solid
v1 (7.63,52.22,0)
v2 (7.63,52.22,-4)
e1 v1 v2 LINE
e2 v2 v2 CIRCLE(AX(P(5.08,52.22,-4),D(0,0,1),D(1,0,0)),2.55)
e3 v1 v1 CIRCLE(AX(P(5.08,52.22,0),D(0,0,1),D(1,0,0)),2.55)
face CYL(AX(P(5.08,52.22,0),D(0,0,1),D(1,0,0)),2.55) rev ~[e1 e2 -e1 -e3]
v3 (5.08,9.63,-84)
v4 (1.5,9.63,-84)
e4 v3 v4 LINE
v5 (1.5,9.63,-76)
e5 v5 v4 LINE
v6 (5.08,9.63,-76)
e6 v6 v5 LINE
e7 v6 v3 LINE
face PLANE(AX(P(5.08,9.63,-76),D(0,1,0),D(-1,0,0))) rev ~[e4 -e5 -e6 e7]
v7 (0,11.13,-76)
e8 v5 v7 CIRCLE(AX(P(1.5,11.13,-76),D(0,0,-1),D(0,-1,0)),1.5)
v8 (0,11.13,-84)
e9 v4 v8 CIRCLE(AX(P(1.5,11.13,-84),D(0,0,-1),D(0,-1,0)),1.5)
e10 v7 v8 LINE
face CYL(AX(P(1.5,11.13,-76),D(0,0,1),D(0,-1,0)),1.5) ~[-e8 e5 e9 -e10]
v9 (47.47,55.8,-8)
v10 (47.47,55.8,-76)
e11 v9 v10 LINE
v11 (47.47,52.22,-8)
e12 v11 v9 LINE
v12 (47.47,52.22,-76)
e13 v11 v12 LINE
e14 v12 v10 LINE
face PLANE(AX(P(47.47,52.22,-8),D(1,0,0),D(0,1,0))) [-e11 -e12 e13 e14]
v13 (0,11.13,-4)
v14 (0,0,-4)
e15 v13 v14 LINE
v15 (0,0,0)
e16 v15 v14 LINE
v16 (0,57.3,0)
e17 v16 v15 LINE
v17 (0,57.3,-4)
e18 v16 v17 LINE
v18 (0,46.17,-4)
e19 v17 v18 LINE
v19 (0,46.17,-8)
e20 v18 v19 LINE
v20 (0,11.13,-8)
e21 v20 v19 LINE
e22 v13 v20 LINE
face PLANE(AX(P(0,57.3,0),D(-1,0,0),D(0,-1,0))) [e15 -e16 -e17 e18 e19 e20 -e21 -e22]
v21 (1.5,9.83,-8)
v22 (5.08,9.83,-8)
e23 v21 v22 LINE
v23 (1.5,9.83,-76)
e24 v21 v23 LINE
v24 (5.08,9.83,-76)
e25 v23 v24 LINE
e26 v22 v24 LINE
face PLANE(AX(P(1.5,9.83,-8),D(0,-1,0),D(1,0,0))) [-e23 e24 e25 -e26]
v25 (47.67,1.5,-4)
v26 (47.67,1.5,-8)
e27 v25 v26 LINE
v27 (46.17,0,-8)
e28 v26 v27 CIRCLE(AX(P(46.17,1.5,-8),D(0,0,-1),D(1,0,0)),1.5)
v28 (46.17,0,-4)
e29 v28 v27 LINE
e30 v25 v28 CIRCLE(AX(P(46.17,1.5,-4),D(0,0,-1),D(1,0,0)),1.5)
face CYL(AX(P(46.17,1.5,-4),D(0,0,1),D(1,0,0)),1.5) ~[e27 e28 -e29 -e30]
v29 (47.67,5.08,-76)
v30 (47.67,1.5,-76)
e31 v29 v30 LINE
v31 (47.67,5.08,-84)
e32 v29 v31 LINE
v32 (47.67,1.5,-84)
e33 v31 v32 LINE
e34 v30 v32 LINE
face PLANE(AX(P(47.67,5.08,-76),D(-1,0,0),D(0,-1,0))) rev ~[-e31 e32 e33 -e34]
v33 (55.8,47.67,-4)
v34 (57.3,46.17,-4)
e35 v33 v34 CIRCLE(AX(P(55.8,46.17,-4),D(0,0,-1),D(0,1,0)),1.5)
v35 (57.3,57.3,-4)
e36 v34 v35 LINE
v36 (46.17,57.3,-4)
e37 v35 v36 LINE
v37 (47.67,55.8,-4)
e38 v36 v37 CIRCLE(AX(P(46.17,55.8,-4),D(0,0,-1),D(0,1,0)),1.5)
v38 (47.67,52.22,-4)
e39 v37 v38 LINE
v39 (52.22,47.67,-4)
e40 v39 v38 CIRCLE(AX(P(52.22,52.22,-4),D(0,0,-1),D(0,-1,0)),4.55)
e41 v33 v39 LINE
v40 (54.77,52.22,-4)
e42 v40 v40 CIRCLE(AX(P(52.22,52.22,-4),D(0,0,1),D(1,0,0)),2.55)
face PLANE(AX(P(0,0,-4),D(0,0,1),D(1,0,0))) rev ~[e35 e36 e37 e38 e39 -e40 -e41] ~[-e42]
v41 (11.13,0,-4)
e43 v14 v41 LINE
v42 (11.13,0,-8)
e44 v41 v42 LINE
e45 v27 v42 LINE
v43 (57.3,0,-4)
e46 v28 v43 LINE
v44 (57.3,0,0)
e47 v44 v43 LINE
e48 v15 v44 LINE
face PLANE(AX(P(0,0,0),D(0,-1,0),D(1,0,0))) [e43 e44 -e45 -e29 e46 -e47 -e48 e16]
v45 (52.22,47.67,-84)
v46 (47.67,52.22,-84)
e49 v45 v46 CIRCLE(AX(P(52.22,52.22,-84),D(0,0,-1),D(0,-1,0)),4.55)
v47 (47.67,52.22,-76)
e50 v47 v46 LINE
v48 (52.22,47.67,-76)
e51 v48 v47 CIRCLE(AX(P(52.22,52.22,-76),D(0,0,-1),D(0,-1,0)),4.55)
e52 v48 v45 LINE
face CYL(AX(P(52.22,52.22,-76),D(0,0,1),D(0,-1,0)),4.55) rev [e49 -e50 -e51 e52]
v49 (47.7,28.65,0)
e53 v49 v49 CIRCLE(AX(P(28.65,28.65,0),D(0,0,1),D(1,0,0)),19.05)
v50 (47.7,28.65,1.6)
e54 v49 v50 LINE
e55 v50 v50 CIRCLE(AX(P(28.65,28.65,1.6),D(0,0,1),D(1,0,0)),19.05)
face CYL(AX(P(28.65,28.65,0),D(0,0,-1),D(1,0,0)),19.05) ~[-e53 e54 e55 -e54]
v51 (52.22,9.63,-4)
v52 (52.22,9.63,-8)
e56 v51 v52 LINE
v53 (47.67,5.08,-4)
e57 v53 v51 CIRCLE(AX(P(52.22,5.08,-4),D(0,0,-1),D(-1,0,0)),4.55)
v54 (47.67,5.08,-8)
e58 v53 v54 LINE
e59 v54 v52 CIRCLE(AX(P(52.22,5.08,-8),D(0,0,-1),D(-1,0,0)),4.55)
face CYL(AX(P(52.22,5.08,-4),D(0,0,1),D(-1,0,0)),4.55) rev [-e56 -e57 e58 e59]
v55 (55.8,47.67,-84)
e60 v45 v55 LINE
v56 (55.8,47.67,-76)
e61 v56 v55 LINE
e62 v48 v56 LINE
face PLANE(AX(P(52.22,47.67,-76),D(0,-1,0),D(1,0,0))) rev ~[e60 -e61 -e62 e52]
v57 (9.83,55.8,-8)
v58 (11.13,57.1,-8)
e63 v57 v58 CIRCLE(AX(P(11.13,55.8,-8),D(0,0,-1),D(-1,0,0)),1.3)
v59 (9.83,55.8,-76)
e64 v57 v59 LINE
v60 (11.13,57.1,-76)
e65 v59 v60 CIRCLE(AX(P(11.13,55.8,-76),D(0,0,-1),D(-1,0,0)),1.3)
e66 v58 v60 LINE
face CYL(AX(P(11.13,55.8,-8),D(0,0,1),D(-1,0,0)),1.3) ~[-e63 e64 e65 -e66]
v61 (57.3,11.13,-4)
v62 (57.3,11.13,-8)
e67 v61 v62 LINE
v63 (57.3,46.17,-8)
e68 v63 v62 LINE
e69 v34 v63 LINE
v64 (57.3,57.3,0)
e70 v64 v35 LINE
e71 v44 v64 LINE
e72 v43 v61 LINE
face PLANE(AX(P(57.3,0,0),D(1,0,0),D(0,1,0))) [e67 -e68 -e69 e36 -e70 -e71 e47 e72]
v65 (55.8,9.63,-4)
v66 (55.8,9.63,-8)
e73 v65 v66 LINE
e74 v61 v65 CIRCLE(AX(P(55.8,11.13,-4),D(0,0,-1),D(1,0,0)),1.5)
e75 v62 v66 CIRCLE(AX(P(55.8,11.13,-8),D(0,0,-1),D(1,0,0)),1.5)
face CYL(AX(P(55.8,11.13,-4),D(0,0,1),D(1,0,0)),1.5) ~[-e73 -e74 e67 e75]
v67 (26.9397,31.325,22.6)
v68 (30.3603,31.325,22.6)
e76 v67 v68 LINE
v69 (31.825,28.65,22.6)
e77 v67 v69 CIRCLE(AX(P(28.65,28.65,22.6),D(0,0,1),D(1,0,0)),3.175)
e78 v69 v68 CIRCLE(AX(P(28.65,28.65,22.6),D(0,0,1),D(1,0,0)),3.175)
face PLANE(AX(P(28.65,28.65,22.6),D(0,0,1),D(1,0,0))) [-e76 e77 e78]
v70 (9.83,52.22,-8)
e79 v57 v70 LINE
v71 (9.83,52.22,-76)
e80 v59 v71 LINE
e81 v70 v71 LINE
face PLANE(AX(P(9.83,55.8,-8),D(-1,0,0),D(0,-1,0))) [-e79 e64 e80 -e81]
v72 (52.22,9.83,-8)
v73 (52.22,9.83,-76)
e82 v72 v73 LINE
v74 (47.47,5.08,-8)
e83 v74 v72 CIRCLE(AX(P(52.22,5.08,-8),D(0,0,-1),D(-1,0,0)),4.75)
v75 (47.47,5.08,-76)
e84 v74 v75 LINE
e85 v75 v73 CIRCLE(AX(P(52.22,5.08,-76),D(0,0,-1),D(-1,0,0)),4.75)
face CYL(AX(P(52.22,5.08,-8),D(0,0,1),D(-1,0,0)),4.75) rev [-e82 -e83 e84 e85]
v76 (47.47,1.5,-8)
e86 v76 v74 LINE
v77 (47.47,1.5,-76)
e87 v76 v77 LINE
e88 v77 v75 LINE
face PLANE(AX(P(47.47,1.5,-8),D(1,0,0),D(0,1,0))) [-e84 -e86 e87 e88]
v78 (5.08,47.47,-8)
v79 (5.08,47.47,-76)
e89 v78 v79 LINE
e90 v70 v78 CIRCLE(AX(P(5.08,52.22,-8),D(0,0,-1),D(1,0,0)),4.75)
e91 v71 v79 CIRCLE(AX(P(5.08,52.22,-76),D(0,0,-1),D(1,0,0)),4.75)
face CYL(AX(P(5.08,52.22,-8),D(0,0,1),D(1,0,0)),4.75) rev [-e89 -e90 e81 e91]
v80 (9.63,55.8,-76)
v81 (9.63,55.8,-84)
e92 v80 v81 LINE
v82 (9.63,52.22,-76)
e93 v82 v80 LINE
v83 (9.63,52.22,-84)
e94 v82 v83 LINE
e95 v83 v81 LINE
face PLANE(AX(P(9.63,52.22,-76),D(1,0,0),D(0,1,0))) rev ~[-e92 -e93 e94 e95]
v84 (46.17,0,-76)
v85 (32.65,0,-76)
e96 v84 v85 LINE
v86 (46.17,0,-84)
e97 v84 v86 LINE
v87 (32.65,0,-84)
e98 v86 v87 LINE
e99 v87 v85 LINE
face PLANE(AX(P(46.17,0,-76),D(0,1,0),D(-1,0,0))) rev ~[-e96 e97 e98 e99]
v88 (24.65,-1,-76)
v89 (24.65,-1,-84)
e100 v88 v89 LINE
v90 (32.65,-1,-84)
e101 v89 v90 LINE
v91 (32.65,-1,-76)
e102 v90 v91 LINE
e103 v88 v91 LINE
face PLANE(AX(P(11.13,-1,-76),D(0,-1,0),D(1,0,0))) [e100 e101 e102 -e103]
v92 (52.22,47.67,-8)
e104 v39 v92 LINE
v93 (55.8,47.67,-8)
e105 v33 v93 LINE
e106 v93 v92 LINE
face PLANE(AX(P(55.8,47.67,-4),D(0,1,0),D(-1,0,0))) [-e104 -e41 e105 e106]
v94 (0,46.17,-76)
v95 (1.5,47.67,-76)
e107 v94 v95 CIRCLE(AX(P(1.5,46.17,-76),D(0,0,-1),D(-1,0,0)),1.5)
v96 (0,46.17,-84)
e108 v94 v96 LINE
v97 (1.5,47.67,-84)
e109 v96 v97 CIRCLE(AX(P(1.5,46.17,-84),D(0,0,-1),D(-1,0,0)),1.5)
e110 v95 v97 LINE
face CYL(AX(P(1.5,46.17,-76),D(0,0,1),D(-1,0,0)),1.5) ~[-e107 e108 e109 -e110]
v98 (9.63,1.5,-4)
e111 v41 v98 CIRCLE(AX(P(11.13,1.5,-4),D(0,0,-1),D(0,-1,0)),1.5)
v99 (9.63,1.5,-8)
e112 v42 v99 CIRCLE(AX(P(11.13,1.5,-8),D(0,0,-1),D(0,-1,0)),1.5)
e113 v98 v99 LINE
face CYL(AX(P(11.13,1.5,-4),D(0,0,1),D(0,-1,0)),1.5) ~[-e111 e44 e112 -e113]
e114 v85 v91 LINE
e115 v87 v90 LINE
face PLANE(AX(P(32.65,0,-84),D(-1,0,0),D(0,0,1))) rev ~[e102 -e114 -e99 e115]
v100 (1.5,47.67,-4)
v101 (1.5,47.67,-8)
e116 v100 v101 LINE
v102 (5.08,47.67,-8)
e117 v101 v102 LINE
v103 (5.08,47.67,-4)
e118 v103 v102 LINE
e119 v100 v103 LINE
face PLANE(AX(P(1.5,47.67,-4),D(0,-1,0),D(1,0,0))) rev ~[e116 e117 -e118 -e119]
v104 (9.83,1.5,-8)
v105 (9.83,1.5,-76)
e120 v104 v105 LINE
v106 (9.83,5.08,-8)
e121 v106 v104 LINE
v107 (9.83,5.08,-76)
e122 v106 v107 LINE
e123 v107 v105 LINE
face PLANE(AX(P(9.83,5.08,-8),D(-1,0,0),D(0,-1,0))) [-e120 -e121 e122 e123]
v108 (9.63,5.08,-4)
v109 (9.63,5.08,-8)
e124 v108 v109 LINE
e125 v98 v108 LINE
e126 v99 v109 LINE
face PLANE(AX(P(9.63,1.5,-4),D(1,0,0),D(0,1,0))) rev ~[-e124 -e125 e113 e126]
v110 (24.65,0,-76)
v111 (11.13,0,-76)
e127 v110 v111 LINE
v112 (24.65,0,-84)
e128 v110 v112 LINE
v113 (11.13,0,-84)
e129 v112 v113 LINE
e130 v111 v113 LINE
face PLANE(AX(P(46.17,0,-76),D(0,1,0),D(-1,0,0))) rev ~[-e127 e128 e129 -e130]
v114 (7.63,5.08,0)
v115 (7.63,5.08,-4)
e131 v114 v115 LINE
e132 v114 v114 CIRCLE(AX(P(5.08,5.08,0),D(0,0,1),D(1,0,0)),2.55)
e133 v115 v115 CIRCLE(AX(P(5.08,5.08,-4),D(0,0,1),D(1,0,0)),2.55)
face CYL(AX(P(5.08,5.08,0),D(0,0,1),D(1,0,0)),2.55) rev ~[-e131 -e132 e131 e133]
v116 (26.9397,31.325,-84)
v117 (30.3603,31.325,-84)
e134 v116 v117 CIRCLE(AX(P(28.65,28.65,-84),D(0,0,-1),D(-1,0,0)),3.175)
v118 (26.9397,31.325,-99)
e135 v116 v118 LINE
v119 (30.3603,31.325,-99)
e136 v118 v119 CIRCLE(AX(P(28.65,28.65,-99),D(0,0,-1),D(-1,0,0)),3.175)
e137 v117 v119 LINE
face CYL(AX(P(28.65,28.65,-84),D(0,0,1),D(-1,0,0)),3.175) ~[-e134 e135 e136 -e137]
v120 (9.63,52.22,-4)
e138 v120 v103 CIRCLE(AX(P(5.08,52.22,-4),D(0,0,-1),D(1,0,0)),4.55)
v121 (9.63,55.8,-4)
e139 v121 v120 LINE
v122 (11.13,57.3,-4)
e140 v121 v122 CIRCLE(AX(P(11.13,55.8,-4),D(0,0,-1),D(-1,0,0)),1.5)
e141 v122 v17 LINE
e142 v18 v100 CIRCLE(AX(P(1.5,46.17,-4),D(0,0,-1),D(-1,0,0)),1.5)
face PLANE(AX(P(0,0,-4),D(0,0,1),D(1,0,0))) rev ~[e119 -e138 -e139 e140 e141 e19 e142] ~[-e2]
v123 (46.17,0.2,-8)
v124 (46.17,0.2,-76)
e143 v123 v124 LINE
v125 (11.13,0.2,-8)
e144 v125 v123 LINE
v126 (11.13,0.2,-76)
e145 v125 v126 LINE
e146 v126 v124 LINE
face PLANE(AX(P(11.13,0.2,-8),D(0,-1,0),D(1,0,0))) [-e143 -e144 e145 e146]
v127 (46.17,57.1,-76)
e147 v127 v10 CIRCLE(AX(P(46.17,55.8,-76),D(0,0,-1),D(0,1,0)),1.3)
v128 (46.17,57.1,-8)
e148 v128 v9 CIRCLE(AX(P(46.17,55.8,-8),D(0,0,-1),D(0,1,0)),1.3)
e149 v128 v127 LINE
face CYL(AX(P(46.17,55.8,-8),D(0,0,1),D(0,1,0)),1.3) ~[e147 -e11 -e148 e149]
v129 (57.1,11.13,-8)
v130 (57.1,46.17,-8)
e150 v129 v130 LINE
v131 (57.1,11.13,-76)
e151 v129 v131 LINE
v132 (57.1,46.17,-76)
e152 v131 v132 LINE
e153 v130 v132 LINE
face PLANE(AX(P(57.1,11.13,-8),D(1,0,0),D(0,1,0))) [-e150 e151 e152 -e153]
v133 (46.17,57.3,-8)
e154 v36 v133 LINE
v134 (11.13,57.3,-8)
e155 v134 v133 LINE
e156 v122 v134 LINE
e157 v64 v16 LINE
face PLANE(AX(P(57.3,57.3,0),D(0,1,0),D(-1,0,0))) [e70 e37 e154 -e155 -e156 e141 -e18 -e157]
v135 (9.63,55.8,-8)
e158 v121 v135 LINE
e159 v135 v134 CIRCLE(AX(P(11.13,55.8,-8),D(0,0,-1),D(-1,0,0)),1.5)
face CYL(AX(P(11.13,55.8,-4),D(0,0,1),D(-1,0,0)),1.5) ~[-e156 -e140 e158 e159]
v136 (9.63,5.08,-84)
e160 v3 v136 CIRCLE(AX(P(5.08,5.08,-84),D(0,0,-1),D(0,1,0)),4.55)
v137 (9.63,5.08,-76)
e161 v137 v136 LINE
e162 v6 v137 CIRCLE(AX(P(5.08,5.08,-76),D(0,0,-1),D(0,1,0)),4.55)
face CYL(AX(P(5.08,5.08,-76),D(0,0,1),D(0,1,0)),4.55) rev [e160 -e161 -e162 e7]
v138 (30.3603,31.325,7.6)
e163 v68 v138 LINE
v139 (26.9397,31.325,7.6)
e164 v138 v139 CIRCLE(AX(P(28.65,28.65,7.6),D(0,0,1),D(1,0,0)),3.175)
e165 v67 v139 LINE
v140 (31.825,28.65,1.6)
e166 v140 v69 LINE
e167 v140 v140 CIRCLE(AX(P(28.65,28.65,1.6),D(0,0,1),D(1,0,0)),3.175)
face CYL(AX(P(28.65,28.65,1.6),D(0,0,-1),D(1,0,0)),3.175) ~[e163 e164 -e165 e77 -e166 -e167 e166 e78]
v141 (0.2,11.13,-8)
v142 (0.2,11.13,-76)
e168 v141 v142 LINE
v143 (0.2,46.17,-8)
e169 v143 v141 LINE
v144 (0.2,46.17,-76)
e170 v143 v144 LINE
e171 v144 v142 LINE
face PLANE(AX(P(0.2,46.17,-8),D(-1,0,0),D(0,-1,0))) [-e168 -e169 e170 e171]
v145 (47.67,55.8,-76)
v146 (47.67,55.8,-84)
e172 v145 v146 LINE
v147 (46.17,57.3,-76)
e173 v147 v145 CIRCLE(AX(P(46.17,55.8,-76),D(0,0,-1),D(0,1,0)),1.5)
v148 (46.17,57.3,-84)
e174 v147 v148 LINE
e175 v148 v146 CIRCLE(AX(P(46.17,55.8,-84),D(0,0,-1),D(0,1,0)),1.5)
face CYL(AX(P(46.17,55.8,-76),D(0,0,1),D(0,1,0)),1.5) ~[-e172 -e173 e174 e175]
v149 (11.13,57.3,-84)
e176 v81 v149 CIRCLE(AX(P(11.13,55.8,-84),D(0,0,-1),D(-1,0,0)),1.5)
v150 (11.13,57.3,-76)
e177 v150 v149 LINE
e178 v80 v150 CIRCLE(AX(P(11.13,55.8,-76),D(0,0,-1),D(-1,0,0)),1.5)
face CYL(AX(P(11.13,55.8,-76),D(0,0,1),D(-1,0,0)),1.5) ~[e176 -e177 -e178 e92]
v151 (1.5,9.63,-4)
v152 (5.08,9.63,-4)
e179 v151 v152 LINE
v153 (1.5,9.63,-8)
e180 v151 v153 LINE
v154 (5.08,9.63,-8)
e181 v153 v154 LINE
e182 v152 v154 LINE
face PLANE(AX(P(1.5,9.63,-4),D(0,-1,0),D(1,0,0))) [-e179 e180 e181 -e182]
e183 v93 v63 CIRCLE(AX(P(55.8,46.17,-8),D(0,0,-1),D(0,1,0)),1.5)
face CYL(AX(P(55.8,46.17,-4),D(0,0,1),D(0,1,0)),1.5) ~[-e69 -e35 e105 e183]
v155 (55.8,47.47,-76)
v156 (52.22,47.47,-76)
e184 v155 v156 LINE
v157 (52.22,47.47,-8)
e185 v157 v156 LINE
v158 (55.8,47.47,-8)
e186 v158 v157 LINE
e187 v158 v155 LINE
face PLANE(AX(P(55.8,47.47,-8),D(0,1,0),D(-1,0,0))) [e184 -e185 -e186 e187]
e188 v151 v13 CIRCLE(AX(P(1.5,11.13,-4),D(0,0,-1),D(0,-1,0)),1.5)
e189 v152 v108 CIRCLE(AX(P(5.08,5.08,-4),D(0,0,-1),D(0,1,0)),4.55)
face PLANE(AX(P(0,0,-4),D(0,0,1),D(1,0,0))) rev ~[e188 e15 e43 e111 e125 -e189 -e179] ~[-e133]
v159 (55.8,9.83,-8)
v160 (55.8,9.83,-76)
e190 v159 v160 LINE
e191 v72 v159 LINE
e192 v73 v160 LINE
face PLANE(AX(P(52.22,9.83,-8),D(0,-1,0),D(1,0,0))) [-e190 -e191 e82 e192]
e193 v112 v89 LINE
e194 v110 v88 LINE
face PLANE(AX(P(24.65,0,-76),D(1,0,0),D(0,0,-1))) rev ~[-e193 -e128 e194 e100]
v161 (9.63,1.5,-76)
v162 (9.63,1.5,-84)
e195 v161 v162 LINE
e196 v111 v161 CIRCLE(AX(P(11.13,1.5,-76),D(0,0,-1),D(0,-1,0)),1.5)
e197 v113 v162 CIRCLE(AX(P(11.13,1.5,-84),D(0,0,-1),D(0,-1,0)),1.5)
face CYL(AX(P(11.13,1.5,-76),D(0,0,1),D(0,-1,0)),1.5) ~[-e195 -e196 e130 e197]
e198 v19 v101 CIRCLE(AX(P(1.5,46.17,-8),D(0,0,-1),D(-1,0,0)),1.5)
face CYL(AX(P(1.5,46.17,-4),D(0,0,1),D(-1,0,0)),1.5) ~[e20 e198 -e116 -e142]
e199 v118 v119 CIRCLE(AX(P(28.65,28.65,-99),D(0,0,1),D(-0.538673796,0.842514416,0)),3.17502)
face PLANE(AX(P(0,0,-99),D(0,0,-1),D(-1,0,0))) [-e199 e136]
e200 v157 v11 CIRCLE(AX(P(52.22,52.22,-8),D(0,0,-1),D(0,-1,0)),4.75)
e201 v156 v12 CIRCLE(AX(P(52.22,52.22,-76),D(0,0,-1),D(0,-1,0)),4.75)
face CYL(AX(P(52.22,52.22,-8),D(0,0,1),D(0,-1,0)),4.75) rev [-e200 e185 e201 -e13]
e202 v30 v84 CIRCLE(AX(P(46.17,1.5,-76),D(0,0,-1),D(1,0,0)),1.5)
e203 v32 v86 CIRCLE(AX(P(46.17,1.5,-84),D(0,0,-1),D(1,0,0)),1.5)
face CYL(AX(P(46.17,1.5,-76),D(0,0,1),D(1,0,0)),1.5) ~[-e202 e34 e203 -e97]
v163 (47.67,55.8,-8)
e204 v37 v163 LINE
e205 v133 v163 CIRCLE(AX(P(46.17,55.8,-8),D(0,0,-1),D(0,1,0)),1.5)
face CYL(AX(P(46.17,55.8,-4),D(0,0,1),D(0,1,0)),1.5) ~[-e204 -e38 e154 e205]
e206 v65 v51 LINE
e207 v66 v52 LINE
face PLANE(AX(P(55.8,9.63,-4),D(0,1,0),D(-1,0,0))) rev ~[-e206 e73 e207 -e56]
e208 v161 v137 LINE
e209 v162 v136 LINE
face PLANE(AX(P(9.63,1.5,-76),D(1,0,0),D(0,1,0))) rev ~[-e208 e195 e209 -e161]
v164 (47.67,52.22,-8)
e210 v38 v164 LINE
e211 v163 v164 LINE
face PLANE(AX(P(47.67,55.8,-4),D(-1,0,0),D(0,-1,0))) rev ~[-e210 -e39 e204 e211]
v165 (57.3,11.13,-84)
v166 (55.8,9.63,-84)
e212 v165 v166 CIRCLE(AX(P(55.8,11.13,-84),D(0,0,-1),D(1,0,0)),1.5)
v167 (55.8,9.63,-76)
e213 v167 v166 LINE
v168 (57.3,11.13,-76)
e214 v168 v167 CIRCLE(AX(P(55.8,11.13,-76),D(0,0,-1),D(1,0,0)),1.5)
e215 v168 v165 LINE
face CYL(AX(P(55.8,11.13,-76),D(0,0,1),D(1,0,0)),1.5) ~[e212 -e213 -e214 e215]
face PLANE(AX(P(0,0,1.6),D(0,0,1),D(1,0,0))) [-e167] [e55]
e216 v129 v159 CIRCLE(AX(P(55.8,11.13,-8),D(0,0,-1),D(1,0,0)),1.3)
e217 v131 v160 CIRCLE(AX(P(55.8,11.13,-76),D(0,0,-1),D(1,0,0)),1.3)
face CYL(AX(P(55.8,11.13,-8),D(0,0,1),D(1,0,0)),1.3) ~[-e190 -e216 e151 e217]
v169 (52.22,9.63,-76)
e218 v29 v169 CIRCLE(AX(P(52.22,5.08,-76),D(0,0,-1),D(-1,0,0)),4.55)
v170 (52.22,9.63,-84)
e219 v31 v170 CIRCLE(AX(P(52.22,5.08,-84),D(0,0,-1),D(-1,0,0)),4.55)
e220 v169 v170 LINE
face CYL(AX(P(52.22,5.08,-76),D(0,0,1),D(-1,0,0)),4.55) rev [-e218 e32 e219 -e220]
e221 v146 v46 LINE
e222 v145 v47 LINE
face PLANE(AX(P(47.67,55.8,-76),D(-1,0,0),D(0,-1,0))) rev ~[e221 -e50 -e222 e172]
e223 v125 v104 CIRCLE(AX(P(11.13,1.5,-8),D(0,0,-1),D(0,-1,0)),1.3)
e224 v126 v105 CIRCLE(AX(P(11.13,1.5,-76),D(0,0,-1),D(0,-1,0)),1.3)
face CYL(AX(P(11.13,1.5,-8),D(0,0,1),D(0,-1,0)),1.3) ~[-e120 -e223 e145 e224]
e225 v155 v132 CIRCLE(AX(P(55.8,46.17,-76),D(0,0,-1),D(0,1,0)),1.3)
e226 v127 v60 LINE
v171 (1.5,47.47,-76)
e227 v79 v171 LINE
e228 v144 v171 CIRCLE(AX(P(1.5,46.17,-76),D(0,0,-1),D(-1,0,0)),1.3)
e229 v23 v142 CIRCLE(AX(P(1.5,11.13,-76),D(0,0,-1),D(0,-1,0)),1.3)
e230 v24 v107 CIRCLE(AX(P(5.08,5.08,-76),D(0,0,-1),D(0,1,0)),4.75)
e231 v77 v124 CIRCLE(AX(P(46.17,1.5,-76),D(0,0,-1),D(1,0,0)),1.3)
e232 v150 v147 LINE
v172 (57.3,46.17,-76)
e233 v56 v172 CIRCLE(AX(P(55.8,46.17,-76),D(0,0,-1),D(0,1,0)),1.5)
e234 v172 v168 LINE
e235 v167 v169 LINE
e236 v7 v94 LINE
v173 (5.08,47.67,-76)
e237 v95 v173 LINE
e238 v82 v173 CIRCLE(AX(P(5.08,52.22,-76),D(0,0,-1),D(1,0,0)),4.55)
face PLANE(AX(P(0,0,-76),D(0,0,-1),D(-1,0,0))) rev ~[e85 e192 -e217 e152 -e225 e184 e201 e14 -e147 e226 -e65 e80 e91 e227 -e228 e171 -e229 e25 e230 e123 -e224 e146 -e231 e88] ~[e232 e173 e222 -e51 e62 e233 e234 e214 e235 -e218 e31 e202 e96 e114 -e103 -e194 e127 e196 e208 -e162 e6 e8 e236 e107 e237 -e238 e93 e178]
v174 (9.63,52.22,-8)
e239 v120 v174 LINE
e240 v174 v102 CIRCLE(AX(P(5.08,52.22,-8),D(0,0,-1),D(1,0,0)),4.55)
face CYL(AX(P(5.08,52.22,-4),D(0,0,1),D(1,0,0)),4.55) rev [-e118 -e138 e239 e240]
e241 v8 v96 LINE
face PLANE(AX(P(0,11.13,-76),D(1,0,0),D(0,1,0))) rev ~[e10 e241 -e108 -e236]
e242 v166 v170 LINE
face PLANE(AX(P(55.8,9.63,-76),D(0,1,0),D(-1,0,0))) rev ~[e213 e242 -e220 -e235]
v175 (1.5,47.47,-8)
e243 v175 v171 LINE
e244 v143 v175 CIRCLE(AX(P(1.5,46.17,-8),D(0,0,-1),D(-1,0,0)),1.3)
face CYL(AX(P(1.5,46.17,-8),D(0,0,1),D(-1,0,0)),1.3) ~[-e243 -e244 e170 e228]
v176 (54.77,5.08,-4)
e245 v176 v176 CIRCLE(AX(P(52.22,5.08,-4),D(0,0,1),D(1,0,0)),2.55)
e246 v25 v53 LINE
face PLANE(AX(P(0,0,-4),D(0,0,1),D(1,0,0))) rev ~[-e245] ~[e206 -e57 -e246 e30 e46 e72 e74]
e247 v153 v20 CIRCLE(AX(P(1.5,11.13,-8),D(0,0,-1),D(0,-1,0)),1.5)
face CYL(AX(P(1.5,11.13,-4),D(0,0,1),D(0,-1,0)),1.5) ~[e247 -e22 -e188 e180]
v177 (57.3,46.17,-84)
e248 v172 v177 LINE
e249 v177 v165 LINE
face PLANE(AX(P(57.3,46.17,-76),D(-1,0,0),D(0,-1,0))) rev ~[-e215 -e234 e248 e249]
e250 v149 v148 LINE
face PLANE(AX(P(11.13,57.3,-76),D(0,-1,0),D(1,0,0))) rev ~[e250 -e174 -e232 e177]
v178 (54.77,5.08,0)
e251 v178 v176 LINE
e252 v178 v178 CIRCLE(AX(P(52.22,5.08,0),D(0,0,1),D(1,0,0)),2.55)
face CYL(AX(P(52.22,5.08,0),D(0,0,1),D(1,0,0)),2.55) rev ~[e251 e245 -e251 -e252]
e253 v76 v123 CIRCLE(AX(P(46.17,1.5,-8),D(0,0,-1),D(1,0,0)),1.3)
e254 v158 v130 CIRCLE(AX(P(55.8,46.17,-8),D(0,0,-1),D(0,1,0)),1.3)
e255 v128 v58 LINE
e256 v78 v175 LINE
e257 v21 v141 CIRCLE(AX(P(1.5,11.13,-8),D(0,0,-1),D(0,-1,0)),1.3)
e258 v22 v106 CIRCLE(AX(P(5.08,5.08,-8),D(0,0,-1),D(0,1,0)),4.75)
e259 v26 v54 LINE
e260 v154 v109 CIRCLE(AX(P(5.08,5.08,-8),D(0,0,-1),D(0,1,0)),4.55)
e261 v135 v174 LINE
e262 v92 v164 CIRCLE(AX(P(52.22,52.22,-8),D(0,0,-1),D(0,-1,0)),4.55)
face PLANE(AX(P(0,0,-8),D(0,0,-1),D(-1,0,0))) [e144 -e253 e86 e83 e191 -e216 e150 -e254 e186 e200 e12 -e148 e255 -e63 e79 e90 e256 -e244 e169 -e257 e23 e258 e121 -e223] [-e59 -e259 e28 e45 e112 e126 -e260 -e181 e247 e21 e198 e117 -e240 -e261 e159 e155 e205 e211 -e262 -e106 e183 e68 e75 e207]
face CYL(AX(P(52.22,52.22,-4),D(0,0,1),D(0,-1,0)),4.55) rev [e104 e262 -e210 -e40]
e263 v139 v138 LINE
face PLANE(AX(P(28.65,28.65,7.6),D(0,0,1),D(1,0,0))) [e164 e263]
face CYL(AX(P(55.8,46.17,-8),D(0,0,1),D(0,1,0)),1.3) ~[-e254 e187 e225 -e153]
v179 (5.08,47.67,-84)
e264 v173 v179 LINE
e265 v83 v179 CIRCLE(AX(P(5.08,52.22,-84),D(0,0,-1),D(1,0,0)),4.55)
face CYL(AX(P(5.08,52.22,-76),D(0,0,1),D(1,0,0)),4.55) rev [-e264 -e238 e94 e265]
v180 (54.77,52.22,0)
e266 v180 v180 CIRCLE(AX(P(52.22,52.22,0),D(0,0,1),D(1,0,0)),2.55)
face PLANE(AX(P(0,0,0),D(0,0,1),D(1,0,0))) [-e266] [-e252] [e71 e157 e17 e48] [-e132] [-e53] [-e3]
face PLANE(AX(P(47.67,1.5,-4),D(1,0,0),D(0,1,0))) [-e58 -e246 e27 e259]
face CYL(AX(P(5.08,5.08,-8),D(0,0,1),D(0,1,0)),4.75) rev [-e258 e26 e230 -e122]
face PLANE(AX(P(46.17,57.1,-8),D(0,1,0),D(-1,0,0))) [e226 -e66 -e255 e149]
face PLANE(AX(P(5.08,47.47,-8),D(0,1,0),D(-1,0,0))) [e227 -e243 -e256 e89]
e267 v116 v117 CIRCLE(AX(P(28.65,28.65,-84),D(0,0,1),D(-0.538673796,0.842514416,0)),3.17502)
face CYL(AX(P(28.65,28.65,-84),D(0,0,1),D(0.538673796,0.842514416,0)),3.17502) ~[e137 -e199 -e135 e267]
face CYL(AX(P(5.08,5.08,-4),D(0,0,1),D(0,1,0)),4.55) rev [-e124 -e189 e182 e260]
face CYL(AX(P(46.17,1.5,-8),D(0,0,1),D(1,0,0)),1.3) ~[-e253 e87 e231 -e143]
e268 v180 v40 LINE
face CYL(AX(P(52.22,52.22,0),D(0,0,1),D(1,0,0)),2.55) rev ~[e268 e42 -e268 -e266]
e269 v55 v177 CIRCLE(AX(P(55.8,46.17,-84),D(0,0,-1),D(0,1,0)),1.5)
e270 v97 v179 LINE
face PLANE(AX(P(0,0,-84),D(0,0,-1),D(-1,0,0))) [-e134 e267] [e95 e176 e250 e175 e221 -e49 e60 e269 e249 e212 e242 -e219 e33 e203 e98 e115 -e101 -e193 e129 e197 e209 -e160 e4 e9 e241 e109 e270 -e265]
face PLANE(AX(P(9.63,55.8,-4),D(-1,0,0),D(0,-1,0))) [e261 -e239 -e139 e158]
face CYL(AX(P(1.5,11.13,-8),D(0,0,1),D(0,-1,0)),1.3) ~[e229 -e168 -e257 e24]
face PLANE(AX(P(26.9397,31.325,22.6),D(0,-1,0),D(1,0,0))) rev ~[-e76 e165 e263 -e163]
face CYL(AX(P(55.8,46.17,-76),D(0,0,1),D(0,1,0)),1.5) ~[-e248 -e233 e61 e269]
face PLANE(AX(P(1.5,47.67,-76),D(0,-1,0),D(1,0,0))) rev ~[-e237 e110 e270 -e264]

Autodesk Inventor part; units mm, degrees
ref_plane "YZ Plane" through (0, 0, 0) normal (1, 0, 0) x (0, 1, 0)
ref_plane "XZ Plane" through (0, 0, 0) normal (0, 1, 0) x (-1, 0, 0)
ref_plane "XY Plane" through (0, 0, 0) normal (0, 0, 1) x (1, 0, 0)
sketch "Sketch1" plane through (0, 0, 0) normal (0, 0, 1) x (1, 0, 0)
  line L0 (0, 0) -> (57.3, 0)
  line L1 (57.3, 0) -> (57.3, 57.3)
  line L2 (57.3, 57.3) -> (0, 57.3)
  line L3 (0, 57.3) -> (0, 0)
  line L4 (5.08, 52.22) -> (52.22, 52.22) construction
  line L5 (52.22, 52.22) -> (52.22, 5.08) construction
  line L6 (52.22, 5.08) -> (5.08, 5.08) construction
  line L7 (5.08, 5.08) -> (5.08, 52.22) construction
  line L8 (5.08, 52.22) -> (5.08, 57.3) construction
  line L9 (5.08, 52.22) -> (0, 52.22) construction
  line L10 (52.22, 5.08) -> (52.22, 0) construction
  line L11 (52.22, 5.08) -> (57.3, 5.08) construction
  circle A0 centre (5.08, 52.22) radius 2.55
  circle A1 centre (52.22, 52.22) radius 2.55
  circle A2 centre (5.08, 5.08) radius 2.55
  circle A3 centre (52.22, 5.08) radius 2.55
  line L12 (28.65, 57.3) -> (28.65, 0) construction
  circle A4 centre (28.65, 28.65) radius 19.55
  dimension "d0" = 57.3
  dimension "d1" = 57.3
  dimension "d2" = 47.14
  dimension "d3" = 47.14
  dimension "d4" = 5.1
  dimension "d5" = 5.1
  dimension "d6" = 5.1
  dimension "d7" = 5.1
  dimension "d8" = 39.1
extrude "Extrusion1" add sketch "Sketch1" against normal blind 4 contours L3 L2 L1 L0 | A4
sketch "Sketch2" plane through (0, 0, 0) normal (0, 0, 1) x (1, 0, 0)
  line L0 (0, 57.3) -> (57.3, 57.3) construction
  line L1 (28.65, 57.3) -> (28.65, 0) construction
  line L2 (57.3, 0) -> (0, 0) construction
  circle A0 centre (28.65, 28.65) radius 19.05
  dimension "d11" = 38.1
extrude "Extrusion2" add sketch "Sketch2" along normal blind 1.6
sketch "Sketch3" plane through (28.65, 28.65, 1.6) normal (0, 0, 1) x (1, 0, 0)
  circle A0 centre (0, 0) radius 3.175
  point P0 (-28.65, -28.65)
  dimension "d14" = 6.35
extrude "Extrusion3" add sketch "Sketch3" along normal blind 21
sketch "Sketch4" plane through (28.65, 28.65, 22.6) normal (0, 0, 1) x (1, 0, 0)
  circle A0 centre (0, 0) radius 3.175 projected
  line L0 (-1.7103, 2.675) -> (1.7103, 2.675)
  point P0 (-28.65, -28.65)
  dimension "d17" = 2.675
extrude "Extrusion4" cut sketch "Sketch4" against normal blind 15 contours L0 A0 picked at (-0.3543, 2.7806)
sketch "Sketch5" plane through (0, 0, -4) normal (0, 0, -1) x (-1, 0, 0)
  line L0 (-57.3, 57.3) -> (-57.3, 0) projected
  line L1 (-57.3, 0) -> (0, 0) projected
  line L2 (0, 0) -> (0, 57.3) projected
  line L3 (0, 57.3) -> (-57.3, 57.3) projected
  circle A0 centre (-5.08, 52.22) radius 2.55 projected
  circle A1 centre (-52.22, 52.22) radius 2.55 projected
  circle A2 centre (-5.08, 5.08) radius 2.55 projected
  circle A3 centre (-52.22, 5.08) radius 2.55 projected
  arc A4 (-52.22, 47.67) -> (-47.67, 52.22) centre (-52.22, 52.22) ccw
  arc A5 (-9.63, 52.22) -> (-5.08, 47.67) centre (-5.08, 52.22) ccw
  arc A6 (-5.08, 9.63) -> (-9.63, 5.08) centre (-5.08, 5.08) ccw
  arc A7 (-47.67, 5.08) -> (-52.22, 9.63) centre (-52.22, 5.08) ccw
  line L4 (0, 57.3) -> (-57.3, 57.3) projected
  line L5 (-47.67, 55.8) -> (-47.67, 52.22)
  line L6 (-9.63, 55.8) -> (-9.63, 52.22)
  line L7 (-57.3, 0) -> (-57.3, 57.3) projected
  line L8 (-55.8, 47.67) -> (-52.22, 47.67)
  line L9 (-55.8, 9.63) -> (-52.22, 9.63)
  line L10 (0, 0) -> (-57.3, 0) projected
  line L11 (-47.67, 1.5) -> (-47.67, 5.08)
  line L12 (-9.63, 1.5) -> (-9.63, 5.08)
  line L13 (0, 57.3) -> (0, 0) projected
  line L14 (-1.5, 47.67) -> (-5.08, 47.67)
  line L15 (-1.5, 9.63) -> (-5.08, 9.63)
  line L16 (0, 0) -> (0, 57.3) projected
  line L17 (-57.3, 0) -> (0, 0) projected
  line L18 (-57.3, 57.3) -> (-57.3, 0) projected
  arc A8 (-55.8, 47.67) -> (-57.3, 46.17) centre (-55.8, 46.17) ccw
  arc A9 (-46.17, 57.3) -> (-47.67, 55.8) centre (-46.17, 55.8) ccw
  arc A10 (-9.63, 55.8) -> (-11.13, 57.3) centre (-11.13, 55.8) ccw
  arc A11 (0, 46.17) -> (-1.5, 47.67) centre (-1.5, 46.17) ccw
  arc A12 (-1.5, 9.63) -> (0, 11.13) centre (-1.5, 11.13) ccw
  arc A13 (-11.13, 0) -> (-9.63, 1.5) centre (-11.13, 1.5) ccw
  arc A14 (-47.67, 1.5) -> (-46.17, 0) centre (-46.17, 1.5) ccw
  arc A15 (-57.3, 11.13) -> (-55.8, 9.63) centre (-55.8, 11.13) ccw
  dimension "d20" = 2
  dimension "d21" = 2
  dimension "d22" = 2
  dimension "d23" = 2
  dimension "d24" = 3
  dimension "d25" = 3
  dimension "d26" = 3
  dimension "d27" = 3
  dimension "d28" = 3
  dimension "d29" = 3
  dimension "d30" = 3
  dimension "d31" = 3
extrude "Extrusion5" add sketch "Sketch5" along normal blind 4 contours A8 L8 A4 L5 A9 L3 A10 L6 A5 L14 A11 L2 A12 L15 A6 L12 A13 L1 A14 L11 A7 L9 A15 L0
sketch "Sketch6" plane through (0, 0, -8) normal (0, 0, -1) x (-1, 0, 0)
  arc A0 (-52.22, 47.67) -> (-47.67, 52.22) centre (-52.22, 52.22) ccw projected
  line L0 (-52.22, 47.67) -> (-55.8, 47.67) projected
  arc A1 (-55.8, 47.67) -> (-57.3, 46.17) centre (-55.8, 46.17) ccw projected
  line L1 (-57.3, 46.17) -> (-57.3, 11.13) projected
  arc A2 (-57.3, 11.13) -> (-55.8, 9.63) centre (-55.8, 11.13) ccw projected
  line L2 (-55.8, 9.63) -> (-52.22, 9.63) projected
  arc A3 (-47.67, 5.08) -> (-52.22, 9.63) centre (-52.22, 5.08) ccw projected
  line L3 (-47.67, 5.08) -> (-47.67, 1.5) projected
  arc A4 (-47.67, 1.5) -> (-46.17, 0) centre (-46.17, 1.5) ccw projected
  line L4 (-46.17, 0) -> (-11.13, 0) projected
  arc A5 (-11.13, 0) -> (-9.63, 1.5) centre (-11.13, 1.5) ccw projected
  line L5 (-9.63, 1.5) -> (-9.63, 5.08) projected
  arc A6 (-5.08, 9.63) -> (-9.63, 5.08) centre (-5.08, 5.08) ccw projected
  line L6 (-5.08, 9.63) -> (-1.5, 9.63) projected
  arc A7 (-1.5, 9.63) -> (0, 11.13) centre (-1.5, 11.13) ccw projected
  line L7 (0, 11.13) -> (0, 46.17) projected
  arc A8 (0, 46.17) -> (-1.5, 47.67) centre (-1.5, 46.17) ccw projected
  line L8 (-1.5, 47.67) -> (-5.08, 47.67) projected
  arc A9 (-9.63, 52.22) -> (-5.08, 47.67) centre (-5.08, 52.22) ccw projected
  line L9 (-9.63, 52.22) -> (-9.63, 55.8) projected
  arc A10 (-9.63, 55.8) -> (-11.13, 57.3) centre (-11.13, 55.8) ccw projected
  line L10 (-11.13, 57.3) -> (-46.17, 57.3) projected
  arc A11 (-46.17, 57.3) -> (-47.67, 55.8) centre (-46.17, 55.8) ccw projected
  line L11 (-47.67, 55.8) -> (-47.67, 52.22) projected
  line L12 (-55.8, 47.47) -> (-52.22, 47.47)
  arc A12 (-52.22, 47.47) -> (-47.47, 52.22) centre (-52.22, 52.22) ccw
  line L13 (-47.47, 52.22) -> (-47.47, 55.8)
  arc A13 (-46.17, 57.1) -> (-47.47, 55.8) centre (-46.17, 55.8) ccw
  line L14 (-46.17, 57.1) -> (-11.13, 57.1)
  arc A14 (-9.83, 55.8) -> (-11.13, 57.1) centre (-11.13, 55.8) ccw
  line L15 (-9.83, 55.8) -> (-9.83, 52.22)
  arc A15 (-9.83, 52.22) -> (-5.08, 47.47) centre (-5.08, 52.22) ccw
  line L16 (-5.08, 47.47) -> (-1.5, 47.47)
  arc A16 (-0.2, 46.17) -> (-1.5, 47.47) centre (-1.5, 46.17) ccw
  line L17 (-0.2, 46.17) -> (-0.2, 11.13)
  arc A17 (-1.5, 9.83) -> (-0.2, 11.13) centre (-1.5, 11.13) ccw
  line L18 (-1.5, 9.83) -> (-5.08, 9.83)
  arc A18 (-5.08, 9.83) -> (-9.83, 5.08) centre (-5.08, 5.08) ccw
  line L19 (-9.83, 5.08) -> (-9.83, 1.5)
  arc A19 (-11.13, 0.2) -> (-9.83, 1.5) centre (-11.13, 1.5) ccw
  line L20 (-11.13, 0.2) -> (-46.17, 0.2)
  arc A20 (-47.47, 1.5) -> (-46.17, 0.2) centre (-46.17, 1.5) ccw
  line L21 (-47.47, 1.5) -> (-47.47, 5.08)
  arc A21 (-47.47, 5.08) -> (-52.22, 9.83) centre (-52.22, 5.08) ccw
  line L22 (-52.22, 9.83) -> (-55.8, 9.83)
  arc A22 (-57.1, 11.13) -> (-55.8, 9.83) centre (-55.8, 11.13) ccw
  line L23 (-57.1, 11.13) -> (-57.1, 46.17)
  arc A23 (-55.8, 47.47) -> (-57.1, 46.17) centre (-55.8, 46.17) ccw
  point P0 (0, 0)
  dimension "d34" = 0.2
extrude "Extrusion6" add sketch "Sketch6" along normal blind 68 contours L12 A12 L13 A13 L14 A14 L15 A15 L16 A16 L17 A17 L18 A18 L19 A19 L20 A20 L21 A21 L22 A22 L23 A23
sketch "Sketch7" plane through (0, 0, -76) normal (0, 0, -1) x (-1, 0, 0)
  arc A0 (-57.1, 11.13) -> (-55.8, 9.83) centre (-55.8, 11.13) ccw projected
  line L0 (-57.1, 11.13) -> (-57.1, 46.17) projected
  arc A1 (-55.8, 47.47) -> (-57.1, 46.17) centre (-55.8, 46.17) ccw projected
  line L1 (-55.8, 47.47) -> (-52.22, 47.47) projected
  arc A2 (-52.22, 47.47) -> (-47.47, 52.22) centre (-52.22, 52.22) ccw projected
  line L2 (-47.47, 52.22) -> (-47.47, 55.8) projected
  arc A3 (-46.17, 57.1) -> (-47.47, 55.8) centre (-46.17, 55.8) ccw projected
  line L3 (-46.17, 57.1) -> (-11.13, 57.1) projected
  arc A4 (-9.83, 55.8) -> (-11.13, 57.1) centre (-11.13, 55.8) ccw projected
  line L4 (-9.83, 55.8) -> (-9.83, 52.22) projected
  arc A5 (-9.83, 52.22) -> (-5.08, 47.47) centre (-5.08, 52.22) ccw projected
  line L5 (-5.08, 47.47) -> (-1.5, 47.47) projected
  arc A6 (-0.2, 46.17) -> (-1.5, 47.47) centre (-1.5, 46.17) ccw projected
  line L6 (-0.2, 46.17) -> (-0.2, 11.13) projected
  arc A7 (-1.5, 9.83) -> (-0.2, 11.13) centre (-1.5, 11.13) ccw projected
  line L7 (-1.5, 9.83) -> (-5.08, 9.83) projected
  arc A8 (-5.08, 9.83) -> (-9.83, 5.08) centre (-5.08, 5.08) ccw projected
  line L8 (-9.83, 5.08) -> (-9.83, 1.5) projected
  arc A9 (-11.13, 0.2) -> (-9.83, 1.5) centre (-11.13, 1.5) ccw projected
  line L9 (-11.13, 0.2) -> (-46.17, 0.2) projected
  arc A10 (-47.47, 1.5) -> (-46.17, 0.2) centre (-46.17, 1.5) ccw projected
  line L10 (-47.47, 1.5) -> (-47.47, 5.08) projected
  arc A11 (-47.47, 5.08) -> (-52.22, 9.83) centre (-52.22, 5.08) ccw projected
  line L11 (-52.22, 9.83) -> (-55.8, 9.83) projected
  arc A12 (-52.22, 47.67) -> (-47.67, 52.22) centre (-52.22, 52.22) ccw projected
  line L12 (-52.22, 47.67) -> (-55.8, 47.67) projected
  arc A13 (-55.8, 47.67) -> (-57.3, 46.17) centre (-55.8, 46.17) ccw projected
  line L13 (-57.3, 46.17) -> (-57.3, 11.13) projected
  arc A14 (-57.3, 11.13) -> (-55.8, 9.63) centre (-55.8, 11.13) ccw projected
  line L14 (-55.8, 9.63) -> (-52.22, 9.63) projected
  arc A15 (-47.67, 5.08) -> (-52.22, 9.63) centre (-52.22, 5.08) ccw projected
  line L15 (-47.67, 5.08) -> (-47.67, 1.5) projected
  arc A16 (-47.67, 1.5) -> (-46.17, 0) centre (-46.17, 1.5) ccw projected
  line L16 (-46.17, 0) -> (-11.13, 0) projected
  arc A17 (-11.13, 0) -> (-9.63, 1.5) centre (-11.13, 1.5) ccw projected
  line L17 (-9.63, 1.5) -> (-9.63, 5.08) projected
  arc A18 (-5.08, 9.63) -> (-9.63, 5.08) centre (-5.08, 5.08) ccw projected
  line L18 (-5.08, 9.63) -> (-1.5, 9.63) projected
  arc A19 (-1.5, 9.63) -> (0, 11.13) centre (-1.5, 11.13) ccw projected
  line L19 (0, 11.13) -> (0, 46.17) projected
  arc A20 (0, 46.17) -> (-1.5, 47.67) centre (-1.5, 46.17) ccw projected
  line L20 (-1.5, 47.67) -> (-5.08, 47.67) projected
  arc A21 (-9.63, 52.22) -> (-5.08, 47.67) centre (-5.08, 52.22) ccw projected
  line L21 (-9.63, 52.22) -> (-9.63, 55.8) projected
  arc A22 (-9.63, 55.8) -> (-11.13, 57.3) centre (-11.13, 55.8) ccw projected
  line L22 (-11.13, 57.3) -> (-46.17, 57.3) projected
  arc A23 (-46.17, 57.3) -> (-47.67, 55.8) centre (-46.17, 55.8) ccw projected
  line L23 (-47.67, 55.8) -> (-47.67, 52.22) projected
  point P0 (0, 0)
extrude "Extrusion7" add sketch "Sketch7" along normal blind 8 contours L0 A1 L1 A2 L2 A3 L3 A4 L4 A5 L5 A6 L6 A7 L7 A8 L8 A9 L9 A10 L10 A11 L11 A0 | A12 L23 A23 L22 A22 L21 A21 L20 A20 L19 A19 L18 A18 L17 A17 L16 A16 L15 A15 L14 A14 L13 A13 L12
sketch "Sketch8" plane through (0, 0, -84) normal (0, 0, -1) x (-1, 0, 0)
  line L0 (-46.17, 0) -> (-11.13, 0) construction
  line L1 (-28.65, 0) -> (-28.65, 57.1) construction
  line L2 (-46.17, 57.1) -> (-11.13, 57.1) construction
  arc A0 (-30.3603, 31.325) -> (-26.9397, 31.325) centre (-28.65, 28.65) ccw projected
  circle A1 centre (-28.65, 28.65) radius 3.175
  point P0 (0, 0)
  dimension "d39" = 6.35
extrude "Extrusion8" add sketch "Sketch8" along normal blind 15
sketch "Sketch9" plane through (11.13, 0, -76) normal (0, -1, 0) x (1, 0, 0)
  line L0 (0, -8) -> (35.04, -8) projected
  line L1 (0, 0) -> (35.04, 0) projected
  line L2 (13.52, -8) -> (21.52, -8)
  line L3 (21.52, -8) -> (21.52, 0)
  line L4 (21.52, 0) -> (13.52, 0)
  line L5 (13.52, 0) -> (13.52, -8)
  line L6 (14.345, -23) -> (20.695, -23) construction
  line L7 (17.52, -23) -> (17.52, 8.4393) construction
  line L8 (17.52, 0) -> (17.52, -8) construction
  point P0 (-11.13, 76)
  point P1 (13.52, 0)
  point P2 (21.52, -8)
  dimension "d42" = 8
  dimension "d43" = 0
extrude "Extrusion9" add sketch "Sketch9" along normal blind 1
equation "\"d5\" = d4"
equation "\"d6\" = d4"
equation "\"d7\" = d4"
equation "\"d25\" = d24"
equation "\"d26\" = d24"
equation "\"d27\" = d24"
equation "\"d28\" = d24"
equation "\"d29\" = d24"
equation "\"d30\" = d24"
equation "\"d31\" = d24"
properties part number "Nema 23 Dual Shaft 87mm Stepper Motor"
